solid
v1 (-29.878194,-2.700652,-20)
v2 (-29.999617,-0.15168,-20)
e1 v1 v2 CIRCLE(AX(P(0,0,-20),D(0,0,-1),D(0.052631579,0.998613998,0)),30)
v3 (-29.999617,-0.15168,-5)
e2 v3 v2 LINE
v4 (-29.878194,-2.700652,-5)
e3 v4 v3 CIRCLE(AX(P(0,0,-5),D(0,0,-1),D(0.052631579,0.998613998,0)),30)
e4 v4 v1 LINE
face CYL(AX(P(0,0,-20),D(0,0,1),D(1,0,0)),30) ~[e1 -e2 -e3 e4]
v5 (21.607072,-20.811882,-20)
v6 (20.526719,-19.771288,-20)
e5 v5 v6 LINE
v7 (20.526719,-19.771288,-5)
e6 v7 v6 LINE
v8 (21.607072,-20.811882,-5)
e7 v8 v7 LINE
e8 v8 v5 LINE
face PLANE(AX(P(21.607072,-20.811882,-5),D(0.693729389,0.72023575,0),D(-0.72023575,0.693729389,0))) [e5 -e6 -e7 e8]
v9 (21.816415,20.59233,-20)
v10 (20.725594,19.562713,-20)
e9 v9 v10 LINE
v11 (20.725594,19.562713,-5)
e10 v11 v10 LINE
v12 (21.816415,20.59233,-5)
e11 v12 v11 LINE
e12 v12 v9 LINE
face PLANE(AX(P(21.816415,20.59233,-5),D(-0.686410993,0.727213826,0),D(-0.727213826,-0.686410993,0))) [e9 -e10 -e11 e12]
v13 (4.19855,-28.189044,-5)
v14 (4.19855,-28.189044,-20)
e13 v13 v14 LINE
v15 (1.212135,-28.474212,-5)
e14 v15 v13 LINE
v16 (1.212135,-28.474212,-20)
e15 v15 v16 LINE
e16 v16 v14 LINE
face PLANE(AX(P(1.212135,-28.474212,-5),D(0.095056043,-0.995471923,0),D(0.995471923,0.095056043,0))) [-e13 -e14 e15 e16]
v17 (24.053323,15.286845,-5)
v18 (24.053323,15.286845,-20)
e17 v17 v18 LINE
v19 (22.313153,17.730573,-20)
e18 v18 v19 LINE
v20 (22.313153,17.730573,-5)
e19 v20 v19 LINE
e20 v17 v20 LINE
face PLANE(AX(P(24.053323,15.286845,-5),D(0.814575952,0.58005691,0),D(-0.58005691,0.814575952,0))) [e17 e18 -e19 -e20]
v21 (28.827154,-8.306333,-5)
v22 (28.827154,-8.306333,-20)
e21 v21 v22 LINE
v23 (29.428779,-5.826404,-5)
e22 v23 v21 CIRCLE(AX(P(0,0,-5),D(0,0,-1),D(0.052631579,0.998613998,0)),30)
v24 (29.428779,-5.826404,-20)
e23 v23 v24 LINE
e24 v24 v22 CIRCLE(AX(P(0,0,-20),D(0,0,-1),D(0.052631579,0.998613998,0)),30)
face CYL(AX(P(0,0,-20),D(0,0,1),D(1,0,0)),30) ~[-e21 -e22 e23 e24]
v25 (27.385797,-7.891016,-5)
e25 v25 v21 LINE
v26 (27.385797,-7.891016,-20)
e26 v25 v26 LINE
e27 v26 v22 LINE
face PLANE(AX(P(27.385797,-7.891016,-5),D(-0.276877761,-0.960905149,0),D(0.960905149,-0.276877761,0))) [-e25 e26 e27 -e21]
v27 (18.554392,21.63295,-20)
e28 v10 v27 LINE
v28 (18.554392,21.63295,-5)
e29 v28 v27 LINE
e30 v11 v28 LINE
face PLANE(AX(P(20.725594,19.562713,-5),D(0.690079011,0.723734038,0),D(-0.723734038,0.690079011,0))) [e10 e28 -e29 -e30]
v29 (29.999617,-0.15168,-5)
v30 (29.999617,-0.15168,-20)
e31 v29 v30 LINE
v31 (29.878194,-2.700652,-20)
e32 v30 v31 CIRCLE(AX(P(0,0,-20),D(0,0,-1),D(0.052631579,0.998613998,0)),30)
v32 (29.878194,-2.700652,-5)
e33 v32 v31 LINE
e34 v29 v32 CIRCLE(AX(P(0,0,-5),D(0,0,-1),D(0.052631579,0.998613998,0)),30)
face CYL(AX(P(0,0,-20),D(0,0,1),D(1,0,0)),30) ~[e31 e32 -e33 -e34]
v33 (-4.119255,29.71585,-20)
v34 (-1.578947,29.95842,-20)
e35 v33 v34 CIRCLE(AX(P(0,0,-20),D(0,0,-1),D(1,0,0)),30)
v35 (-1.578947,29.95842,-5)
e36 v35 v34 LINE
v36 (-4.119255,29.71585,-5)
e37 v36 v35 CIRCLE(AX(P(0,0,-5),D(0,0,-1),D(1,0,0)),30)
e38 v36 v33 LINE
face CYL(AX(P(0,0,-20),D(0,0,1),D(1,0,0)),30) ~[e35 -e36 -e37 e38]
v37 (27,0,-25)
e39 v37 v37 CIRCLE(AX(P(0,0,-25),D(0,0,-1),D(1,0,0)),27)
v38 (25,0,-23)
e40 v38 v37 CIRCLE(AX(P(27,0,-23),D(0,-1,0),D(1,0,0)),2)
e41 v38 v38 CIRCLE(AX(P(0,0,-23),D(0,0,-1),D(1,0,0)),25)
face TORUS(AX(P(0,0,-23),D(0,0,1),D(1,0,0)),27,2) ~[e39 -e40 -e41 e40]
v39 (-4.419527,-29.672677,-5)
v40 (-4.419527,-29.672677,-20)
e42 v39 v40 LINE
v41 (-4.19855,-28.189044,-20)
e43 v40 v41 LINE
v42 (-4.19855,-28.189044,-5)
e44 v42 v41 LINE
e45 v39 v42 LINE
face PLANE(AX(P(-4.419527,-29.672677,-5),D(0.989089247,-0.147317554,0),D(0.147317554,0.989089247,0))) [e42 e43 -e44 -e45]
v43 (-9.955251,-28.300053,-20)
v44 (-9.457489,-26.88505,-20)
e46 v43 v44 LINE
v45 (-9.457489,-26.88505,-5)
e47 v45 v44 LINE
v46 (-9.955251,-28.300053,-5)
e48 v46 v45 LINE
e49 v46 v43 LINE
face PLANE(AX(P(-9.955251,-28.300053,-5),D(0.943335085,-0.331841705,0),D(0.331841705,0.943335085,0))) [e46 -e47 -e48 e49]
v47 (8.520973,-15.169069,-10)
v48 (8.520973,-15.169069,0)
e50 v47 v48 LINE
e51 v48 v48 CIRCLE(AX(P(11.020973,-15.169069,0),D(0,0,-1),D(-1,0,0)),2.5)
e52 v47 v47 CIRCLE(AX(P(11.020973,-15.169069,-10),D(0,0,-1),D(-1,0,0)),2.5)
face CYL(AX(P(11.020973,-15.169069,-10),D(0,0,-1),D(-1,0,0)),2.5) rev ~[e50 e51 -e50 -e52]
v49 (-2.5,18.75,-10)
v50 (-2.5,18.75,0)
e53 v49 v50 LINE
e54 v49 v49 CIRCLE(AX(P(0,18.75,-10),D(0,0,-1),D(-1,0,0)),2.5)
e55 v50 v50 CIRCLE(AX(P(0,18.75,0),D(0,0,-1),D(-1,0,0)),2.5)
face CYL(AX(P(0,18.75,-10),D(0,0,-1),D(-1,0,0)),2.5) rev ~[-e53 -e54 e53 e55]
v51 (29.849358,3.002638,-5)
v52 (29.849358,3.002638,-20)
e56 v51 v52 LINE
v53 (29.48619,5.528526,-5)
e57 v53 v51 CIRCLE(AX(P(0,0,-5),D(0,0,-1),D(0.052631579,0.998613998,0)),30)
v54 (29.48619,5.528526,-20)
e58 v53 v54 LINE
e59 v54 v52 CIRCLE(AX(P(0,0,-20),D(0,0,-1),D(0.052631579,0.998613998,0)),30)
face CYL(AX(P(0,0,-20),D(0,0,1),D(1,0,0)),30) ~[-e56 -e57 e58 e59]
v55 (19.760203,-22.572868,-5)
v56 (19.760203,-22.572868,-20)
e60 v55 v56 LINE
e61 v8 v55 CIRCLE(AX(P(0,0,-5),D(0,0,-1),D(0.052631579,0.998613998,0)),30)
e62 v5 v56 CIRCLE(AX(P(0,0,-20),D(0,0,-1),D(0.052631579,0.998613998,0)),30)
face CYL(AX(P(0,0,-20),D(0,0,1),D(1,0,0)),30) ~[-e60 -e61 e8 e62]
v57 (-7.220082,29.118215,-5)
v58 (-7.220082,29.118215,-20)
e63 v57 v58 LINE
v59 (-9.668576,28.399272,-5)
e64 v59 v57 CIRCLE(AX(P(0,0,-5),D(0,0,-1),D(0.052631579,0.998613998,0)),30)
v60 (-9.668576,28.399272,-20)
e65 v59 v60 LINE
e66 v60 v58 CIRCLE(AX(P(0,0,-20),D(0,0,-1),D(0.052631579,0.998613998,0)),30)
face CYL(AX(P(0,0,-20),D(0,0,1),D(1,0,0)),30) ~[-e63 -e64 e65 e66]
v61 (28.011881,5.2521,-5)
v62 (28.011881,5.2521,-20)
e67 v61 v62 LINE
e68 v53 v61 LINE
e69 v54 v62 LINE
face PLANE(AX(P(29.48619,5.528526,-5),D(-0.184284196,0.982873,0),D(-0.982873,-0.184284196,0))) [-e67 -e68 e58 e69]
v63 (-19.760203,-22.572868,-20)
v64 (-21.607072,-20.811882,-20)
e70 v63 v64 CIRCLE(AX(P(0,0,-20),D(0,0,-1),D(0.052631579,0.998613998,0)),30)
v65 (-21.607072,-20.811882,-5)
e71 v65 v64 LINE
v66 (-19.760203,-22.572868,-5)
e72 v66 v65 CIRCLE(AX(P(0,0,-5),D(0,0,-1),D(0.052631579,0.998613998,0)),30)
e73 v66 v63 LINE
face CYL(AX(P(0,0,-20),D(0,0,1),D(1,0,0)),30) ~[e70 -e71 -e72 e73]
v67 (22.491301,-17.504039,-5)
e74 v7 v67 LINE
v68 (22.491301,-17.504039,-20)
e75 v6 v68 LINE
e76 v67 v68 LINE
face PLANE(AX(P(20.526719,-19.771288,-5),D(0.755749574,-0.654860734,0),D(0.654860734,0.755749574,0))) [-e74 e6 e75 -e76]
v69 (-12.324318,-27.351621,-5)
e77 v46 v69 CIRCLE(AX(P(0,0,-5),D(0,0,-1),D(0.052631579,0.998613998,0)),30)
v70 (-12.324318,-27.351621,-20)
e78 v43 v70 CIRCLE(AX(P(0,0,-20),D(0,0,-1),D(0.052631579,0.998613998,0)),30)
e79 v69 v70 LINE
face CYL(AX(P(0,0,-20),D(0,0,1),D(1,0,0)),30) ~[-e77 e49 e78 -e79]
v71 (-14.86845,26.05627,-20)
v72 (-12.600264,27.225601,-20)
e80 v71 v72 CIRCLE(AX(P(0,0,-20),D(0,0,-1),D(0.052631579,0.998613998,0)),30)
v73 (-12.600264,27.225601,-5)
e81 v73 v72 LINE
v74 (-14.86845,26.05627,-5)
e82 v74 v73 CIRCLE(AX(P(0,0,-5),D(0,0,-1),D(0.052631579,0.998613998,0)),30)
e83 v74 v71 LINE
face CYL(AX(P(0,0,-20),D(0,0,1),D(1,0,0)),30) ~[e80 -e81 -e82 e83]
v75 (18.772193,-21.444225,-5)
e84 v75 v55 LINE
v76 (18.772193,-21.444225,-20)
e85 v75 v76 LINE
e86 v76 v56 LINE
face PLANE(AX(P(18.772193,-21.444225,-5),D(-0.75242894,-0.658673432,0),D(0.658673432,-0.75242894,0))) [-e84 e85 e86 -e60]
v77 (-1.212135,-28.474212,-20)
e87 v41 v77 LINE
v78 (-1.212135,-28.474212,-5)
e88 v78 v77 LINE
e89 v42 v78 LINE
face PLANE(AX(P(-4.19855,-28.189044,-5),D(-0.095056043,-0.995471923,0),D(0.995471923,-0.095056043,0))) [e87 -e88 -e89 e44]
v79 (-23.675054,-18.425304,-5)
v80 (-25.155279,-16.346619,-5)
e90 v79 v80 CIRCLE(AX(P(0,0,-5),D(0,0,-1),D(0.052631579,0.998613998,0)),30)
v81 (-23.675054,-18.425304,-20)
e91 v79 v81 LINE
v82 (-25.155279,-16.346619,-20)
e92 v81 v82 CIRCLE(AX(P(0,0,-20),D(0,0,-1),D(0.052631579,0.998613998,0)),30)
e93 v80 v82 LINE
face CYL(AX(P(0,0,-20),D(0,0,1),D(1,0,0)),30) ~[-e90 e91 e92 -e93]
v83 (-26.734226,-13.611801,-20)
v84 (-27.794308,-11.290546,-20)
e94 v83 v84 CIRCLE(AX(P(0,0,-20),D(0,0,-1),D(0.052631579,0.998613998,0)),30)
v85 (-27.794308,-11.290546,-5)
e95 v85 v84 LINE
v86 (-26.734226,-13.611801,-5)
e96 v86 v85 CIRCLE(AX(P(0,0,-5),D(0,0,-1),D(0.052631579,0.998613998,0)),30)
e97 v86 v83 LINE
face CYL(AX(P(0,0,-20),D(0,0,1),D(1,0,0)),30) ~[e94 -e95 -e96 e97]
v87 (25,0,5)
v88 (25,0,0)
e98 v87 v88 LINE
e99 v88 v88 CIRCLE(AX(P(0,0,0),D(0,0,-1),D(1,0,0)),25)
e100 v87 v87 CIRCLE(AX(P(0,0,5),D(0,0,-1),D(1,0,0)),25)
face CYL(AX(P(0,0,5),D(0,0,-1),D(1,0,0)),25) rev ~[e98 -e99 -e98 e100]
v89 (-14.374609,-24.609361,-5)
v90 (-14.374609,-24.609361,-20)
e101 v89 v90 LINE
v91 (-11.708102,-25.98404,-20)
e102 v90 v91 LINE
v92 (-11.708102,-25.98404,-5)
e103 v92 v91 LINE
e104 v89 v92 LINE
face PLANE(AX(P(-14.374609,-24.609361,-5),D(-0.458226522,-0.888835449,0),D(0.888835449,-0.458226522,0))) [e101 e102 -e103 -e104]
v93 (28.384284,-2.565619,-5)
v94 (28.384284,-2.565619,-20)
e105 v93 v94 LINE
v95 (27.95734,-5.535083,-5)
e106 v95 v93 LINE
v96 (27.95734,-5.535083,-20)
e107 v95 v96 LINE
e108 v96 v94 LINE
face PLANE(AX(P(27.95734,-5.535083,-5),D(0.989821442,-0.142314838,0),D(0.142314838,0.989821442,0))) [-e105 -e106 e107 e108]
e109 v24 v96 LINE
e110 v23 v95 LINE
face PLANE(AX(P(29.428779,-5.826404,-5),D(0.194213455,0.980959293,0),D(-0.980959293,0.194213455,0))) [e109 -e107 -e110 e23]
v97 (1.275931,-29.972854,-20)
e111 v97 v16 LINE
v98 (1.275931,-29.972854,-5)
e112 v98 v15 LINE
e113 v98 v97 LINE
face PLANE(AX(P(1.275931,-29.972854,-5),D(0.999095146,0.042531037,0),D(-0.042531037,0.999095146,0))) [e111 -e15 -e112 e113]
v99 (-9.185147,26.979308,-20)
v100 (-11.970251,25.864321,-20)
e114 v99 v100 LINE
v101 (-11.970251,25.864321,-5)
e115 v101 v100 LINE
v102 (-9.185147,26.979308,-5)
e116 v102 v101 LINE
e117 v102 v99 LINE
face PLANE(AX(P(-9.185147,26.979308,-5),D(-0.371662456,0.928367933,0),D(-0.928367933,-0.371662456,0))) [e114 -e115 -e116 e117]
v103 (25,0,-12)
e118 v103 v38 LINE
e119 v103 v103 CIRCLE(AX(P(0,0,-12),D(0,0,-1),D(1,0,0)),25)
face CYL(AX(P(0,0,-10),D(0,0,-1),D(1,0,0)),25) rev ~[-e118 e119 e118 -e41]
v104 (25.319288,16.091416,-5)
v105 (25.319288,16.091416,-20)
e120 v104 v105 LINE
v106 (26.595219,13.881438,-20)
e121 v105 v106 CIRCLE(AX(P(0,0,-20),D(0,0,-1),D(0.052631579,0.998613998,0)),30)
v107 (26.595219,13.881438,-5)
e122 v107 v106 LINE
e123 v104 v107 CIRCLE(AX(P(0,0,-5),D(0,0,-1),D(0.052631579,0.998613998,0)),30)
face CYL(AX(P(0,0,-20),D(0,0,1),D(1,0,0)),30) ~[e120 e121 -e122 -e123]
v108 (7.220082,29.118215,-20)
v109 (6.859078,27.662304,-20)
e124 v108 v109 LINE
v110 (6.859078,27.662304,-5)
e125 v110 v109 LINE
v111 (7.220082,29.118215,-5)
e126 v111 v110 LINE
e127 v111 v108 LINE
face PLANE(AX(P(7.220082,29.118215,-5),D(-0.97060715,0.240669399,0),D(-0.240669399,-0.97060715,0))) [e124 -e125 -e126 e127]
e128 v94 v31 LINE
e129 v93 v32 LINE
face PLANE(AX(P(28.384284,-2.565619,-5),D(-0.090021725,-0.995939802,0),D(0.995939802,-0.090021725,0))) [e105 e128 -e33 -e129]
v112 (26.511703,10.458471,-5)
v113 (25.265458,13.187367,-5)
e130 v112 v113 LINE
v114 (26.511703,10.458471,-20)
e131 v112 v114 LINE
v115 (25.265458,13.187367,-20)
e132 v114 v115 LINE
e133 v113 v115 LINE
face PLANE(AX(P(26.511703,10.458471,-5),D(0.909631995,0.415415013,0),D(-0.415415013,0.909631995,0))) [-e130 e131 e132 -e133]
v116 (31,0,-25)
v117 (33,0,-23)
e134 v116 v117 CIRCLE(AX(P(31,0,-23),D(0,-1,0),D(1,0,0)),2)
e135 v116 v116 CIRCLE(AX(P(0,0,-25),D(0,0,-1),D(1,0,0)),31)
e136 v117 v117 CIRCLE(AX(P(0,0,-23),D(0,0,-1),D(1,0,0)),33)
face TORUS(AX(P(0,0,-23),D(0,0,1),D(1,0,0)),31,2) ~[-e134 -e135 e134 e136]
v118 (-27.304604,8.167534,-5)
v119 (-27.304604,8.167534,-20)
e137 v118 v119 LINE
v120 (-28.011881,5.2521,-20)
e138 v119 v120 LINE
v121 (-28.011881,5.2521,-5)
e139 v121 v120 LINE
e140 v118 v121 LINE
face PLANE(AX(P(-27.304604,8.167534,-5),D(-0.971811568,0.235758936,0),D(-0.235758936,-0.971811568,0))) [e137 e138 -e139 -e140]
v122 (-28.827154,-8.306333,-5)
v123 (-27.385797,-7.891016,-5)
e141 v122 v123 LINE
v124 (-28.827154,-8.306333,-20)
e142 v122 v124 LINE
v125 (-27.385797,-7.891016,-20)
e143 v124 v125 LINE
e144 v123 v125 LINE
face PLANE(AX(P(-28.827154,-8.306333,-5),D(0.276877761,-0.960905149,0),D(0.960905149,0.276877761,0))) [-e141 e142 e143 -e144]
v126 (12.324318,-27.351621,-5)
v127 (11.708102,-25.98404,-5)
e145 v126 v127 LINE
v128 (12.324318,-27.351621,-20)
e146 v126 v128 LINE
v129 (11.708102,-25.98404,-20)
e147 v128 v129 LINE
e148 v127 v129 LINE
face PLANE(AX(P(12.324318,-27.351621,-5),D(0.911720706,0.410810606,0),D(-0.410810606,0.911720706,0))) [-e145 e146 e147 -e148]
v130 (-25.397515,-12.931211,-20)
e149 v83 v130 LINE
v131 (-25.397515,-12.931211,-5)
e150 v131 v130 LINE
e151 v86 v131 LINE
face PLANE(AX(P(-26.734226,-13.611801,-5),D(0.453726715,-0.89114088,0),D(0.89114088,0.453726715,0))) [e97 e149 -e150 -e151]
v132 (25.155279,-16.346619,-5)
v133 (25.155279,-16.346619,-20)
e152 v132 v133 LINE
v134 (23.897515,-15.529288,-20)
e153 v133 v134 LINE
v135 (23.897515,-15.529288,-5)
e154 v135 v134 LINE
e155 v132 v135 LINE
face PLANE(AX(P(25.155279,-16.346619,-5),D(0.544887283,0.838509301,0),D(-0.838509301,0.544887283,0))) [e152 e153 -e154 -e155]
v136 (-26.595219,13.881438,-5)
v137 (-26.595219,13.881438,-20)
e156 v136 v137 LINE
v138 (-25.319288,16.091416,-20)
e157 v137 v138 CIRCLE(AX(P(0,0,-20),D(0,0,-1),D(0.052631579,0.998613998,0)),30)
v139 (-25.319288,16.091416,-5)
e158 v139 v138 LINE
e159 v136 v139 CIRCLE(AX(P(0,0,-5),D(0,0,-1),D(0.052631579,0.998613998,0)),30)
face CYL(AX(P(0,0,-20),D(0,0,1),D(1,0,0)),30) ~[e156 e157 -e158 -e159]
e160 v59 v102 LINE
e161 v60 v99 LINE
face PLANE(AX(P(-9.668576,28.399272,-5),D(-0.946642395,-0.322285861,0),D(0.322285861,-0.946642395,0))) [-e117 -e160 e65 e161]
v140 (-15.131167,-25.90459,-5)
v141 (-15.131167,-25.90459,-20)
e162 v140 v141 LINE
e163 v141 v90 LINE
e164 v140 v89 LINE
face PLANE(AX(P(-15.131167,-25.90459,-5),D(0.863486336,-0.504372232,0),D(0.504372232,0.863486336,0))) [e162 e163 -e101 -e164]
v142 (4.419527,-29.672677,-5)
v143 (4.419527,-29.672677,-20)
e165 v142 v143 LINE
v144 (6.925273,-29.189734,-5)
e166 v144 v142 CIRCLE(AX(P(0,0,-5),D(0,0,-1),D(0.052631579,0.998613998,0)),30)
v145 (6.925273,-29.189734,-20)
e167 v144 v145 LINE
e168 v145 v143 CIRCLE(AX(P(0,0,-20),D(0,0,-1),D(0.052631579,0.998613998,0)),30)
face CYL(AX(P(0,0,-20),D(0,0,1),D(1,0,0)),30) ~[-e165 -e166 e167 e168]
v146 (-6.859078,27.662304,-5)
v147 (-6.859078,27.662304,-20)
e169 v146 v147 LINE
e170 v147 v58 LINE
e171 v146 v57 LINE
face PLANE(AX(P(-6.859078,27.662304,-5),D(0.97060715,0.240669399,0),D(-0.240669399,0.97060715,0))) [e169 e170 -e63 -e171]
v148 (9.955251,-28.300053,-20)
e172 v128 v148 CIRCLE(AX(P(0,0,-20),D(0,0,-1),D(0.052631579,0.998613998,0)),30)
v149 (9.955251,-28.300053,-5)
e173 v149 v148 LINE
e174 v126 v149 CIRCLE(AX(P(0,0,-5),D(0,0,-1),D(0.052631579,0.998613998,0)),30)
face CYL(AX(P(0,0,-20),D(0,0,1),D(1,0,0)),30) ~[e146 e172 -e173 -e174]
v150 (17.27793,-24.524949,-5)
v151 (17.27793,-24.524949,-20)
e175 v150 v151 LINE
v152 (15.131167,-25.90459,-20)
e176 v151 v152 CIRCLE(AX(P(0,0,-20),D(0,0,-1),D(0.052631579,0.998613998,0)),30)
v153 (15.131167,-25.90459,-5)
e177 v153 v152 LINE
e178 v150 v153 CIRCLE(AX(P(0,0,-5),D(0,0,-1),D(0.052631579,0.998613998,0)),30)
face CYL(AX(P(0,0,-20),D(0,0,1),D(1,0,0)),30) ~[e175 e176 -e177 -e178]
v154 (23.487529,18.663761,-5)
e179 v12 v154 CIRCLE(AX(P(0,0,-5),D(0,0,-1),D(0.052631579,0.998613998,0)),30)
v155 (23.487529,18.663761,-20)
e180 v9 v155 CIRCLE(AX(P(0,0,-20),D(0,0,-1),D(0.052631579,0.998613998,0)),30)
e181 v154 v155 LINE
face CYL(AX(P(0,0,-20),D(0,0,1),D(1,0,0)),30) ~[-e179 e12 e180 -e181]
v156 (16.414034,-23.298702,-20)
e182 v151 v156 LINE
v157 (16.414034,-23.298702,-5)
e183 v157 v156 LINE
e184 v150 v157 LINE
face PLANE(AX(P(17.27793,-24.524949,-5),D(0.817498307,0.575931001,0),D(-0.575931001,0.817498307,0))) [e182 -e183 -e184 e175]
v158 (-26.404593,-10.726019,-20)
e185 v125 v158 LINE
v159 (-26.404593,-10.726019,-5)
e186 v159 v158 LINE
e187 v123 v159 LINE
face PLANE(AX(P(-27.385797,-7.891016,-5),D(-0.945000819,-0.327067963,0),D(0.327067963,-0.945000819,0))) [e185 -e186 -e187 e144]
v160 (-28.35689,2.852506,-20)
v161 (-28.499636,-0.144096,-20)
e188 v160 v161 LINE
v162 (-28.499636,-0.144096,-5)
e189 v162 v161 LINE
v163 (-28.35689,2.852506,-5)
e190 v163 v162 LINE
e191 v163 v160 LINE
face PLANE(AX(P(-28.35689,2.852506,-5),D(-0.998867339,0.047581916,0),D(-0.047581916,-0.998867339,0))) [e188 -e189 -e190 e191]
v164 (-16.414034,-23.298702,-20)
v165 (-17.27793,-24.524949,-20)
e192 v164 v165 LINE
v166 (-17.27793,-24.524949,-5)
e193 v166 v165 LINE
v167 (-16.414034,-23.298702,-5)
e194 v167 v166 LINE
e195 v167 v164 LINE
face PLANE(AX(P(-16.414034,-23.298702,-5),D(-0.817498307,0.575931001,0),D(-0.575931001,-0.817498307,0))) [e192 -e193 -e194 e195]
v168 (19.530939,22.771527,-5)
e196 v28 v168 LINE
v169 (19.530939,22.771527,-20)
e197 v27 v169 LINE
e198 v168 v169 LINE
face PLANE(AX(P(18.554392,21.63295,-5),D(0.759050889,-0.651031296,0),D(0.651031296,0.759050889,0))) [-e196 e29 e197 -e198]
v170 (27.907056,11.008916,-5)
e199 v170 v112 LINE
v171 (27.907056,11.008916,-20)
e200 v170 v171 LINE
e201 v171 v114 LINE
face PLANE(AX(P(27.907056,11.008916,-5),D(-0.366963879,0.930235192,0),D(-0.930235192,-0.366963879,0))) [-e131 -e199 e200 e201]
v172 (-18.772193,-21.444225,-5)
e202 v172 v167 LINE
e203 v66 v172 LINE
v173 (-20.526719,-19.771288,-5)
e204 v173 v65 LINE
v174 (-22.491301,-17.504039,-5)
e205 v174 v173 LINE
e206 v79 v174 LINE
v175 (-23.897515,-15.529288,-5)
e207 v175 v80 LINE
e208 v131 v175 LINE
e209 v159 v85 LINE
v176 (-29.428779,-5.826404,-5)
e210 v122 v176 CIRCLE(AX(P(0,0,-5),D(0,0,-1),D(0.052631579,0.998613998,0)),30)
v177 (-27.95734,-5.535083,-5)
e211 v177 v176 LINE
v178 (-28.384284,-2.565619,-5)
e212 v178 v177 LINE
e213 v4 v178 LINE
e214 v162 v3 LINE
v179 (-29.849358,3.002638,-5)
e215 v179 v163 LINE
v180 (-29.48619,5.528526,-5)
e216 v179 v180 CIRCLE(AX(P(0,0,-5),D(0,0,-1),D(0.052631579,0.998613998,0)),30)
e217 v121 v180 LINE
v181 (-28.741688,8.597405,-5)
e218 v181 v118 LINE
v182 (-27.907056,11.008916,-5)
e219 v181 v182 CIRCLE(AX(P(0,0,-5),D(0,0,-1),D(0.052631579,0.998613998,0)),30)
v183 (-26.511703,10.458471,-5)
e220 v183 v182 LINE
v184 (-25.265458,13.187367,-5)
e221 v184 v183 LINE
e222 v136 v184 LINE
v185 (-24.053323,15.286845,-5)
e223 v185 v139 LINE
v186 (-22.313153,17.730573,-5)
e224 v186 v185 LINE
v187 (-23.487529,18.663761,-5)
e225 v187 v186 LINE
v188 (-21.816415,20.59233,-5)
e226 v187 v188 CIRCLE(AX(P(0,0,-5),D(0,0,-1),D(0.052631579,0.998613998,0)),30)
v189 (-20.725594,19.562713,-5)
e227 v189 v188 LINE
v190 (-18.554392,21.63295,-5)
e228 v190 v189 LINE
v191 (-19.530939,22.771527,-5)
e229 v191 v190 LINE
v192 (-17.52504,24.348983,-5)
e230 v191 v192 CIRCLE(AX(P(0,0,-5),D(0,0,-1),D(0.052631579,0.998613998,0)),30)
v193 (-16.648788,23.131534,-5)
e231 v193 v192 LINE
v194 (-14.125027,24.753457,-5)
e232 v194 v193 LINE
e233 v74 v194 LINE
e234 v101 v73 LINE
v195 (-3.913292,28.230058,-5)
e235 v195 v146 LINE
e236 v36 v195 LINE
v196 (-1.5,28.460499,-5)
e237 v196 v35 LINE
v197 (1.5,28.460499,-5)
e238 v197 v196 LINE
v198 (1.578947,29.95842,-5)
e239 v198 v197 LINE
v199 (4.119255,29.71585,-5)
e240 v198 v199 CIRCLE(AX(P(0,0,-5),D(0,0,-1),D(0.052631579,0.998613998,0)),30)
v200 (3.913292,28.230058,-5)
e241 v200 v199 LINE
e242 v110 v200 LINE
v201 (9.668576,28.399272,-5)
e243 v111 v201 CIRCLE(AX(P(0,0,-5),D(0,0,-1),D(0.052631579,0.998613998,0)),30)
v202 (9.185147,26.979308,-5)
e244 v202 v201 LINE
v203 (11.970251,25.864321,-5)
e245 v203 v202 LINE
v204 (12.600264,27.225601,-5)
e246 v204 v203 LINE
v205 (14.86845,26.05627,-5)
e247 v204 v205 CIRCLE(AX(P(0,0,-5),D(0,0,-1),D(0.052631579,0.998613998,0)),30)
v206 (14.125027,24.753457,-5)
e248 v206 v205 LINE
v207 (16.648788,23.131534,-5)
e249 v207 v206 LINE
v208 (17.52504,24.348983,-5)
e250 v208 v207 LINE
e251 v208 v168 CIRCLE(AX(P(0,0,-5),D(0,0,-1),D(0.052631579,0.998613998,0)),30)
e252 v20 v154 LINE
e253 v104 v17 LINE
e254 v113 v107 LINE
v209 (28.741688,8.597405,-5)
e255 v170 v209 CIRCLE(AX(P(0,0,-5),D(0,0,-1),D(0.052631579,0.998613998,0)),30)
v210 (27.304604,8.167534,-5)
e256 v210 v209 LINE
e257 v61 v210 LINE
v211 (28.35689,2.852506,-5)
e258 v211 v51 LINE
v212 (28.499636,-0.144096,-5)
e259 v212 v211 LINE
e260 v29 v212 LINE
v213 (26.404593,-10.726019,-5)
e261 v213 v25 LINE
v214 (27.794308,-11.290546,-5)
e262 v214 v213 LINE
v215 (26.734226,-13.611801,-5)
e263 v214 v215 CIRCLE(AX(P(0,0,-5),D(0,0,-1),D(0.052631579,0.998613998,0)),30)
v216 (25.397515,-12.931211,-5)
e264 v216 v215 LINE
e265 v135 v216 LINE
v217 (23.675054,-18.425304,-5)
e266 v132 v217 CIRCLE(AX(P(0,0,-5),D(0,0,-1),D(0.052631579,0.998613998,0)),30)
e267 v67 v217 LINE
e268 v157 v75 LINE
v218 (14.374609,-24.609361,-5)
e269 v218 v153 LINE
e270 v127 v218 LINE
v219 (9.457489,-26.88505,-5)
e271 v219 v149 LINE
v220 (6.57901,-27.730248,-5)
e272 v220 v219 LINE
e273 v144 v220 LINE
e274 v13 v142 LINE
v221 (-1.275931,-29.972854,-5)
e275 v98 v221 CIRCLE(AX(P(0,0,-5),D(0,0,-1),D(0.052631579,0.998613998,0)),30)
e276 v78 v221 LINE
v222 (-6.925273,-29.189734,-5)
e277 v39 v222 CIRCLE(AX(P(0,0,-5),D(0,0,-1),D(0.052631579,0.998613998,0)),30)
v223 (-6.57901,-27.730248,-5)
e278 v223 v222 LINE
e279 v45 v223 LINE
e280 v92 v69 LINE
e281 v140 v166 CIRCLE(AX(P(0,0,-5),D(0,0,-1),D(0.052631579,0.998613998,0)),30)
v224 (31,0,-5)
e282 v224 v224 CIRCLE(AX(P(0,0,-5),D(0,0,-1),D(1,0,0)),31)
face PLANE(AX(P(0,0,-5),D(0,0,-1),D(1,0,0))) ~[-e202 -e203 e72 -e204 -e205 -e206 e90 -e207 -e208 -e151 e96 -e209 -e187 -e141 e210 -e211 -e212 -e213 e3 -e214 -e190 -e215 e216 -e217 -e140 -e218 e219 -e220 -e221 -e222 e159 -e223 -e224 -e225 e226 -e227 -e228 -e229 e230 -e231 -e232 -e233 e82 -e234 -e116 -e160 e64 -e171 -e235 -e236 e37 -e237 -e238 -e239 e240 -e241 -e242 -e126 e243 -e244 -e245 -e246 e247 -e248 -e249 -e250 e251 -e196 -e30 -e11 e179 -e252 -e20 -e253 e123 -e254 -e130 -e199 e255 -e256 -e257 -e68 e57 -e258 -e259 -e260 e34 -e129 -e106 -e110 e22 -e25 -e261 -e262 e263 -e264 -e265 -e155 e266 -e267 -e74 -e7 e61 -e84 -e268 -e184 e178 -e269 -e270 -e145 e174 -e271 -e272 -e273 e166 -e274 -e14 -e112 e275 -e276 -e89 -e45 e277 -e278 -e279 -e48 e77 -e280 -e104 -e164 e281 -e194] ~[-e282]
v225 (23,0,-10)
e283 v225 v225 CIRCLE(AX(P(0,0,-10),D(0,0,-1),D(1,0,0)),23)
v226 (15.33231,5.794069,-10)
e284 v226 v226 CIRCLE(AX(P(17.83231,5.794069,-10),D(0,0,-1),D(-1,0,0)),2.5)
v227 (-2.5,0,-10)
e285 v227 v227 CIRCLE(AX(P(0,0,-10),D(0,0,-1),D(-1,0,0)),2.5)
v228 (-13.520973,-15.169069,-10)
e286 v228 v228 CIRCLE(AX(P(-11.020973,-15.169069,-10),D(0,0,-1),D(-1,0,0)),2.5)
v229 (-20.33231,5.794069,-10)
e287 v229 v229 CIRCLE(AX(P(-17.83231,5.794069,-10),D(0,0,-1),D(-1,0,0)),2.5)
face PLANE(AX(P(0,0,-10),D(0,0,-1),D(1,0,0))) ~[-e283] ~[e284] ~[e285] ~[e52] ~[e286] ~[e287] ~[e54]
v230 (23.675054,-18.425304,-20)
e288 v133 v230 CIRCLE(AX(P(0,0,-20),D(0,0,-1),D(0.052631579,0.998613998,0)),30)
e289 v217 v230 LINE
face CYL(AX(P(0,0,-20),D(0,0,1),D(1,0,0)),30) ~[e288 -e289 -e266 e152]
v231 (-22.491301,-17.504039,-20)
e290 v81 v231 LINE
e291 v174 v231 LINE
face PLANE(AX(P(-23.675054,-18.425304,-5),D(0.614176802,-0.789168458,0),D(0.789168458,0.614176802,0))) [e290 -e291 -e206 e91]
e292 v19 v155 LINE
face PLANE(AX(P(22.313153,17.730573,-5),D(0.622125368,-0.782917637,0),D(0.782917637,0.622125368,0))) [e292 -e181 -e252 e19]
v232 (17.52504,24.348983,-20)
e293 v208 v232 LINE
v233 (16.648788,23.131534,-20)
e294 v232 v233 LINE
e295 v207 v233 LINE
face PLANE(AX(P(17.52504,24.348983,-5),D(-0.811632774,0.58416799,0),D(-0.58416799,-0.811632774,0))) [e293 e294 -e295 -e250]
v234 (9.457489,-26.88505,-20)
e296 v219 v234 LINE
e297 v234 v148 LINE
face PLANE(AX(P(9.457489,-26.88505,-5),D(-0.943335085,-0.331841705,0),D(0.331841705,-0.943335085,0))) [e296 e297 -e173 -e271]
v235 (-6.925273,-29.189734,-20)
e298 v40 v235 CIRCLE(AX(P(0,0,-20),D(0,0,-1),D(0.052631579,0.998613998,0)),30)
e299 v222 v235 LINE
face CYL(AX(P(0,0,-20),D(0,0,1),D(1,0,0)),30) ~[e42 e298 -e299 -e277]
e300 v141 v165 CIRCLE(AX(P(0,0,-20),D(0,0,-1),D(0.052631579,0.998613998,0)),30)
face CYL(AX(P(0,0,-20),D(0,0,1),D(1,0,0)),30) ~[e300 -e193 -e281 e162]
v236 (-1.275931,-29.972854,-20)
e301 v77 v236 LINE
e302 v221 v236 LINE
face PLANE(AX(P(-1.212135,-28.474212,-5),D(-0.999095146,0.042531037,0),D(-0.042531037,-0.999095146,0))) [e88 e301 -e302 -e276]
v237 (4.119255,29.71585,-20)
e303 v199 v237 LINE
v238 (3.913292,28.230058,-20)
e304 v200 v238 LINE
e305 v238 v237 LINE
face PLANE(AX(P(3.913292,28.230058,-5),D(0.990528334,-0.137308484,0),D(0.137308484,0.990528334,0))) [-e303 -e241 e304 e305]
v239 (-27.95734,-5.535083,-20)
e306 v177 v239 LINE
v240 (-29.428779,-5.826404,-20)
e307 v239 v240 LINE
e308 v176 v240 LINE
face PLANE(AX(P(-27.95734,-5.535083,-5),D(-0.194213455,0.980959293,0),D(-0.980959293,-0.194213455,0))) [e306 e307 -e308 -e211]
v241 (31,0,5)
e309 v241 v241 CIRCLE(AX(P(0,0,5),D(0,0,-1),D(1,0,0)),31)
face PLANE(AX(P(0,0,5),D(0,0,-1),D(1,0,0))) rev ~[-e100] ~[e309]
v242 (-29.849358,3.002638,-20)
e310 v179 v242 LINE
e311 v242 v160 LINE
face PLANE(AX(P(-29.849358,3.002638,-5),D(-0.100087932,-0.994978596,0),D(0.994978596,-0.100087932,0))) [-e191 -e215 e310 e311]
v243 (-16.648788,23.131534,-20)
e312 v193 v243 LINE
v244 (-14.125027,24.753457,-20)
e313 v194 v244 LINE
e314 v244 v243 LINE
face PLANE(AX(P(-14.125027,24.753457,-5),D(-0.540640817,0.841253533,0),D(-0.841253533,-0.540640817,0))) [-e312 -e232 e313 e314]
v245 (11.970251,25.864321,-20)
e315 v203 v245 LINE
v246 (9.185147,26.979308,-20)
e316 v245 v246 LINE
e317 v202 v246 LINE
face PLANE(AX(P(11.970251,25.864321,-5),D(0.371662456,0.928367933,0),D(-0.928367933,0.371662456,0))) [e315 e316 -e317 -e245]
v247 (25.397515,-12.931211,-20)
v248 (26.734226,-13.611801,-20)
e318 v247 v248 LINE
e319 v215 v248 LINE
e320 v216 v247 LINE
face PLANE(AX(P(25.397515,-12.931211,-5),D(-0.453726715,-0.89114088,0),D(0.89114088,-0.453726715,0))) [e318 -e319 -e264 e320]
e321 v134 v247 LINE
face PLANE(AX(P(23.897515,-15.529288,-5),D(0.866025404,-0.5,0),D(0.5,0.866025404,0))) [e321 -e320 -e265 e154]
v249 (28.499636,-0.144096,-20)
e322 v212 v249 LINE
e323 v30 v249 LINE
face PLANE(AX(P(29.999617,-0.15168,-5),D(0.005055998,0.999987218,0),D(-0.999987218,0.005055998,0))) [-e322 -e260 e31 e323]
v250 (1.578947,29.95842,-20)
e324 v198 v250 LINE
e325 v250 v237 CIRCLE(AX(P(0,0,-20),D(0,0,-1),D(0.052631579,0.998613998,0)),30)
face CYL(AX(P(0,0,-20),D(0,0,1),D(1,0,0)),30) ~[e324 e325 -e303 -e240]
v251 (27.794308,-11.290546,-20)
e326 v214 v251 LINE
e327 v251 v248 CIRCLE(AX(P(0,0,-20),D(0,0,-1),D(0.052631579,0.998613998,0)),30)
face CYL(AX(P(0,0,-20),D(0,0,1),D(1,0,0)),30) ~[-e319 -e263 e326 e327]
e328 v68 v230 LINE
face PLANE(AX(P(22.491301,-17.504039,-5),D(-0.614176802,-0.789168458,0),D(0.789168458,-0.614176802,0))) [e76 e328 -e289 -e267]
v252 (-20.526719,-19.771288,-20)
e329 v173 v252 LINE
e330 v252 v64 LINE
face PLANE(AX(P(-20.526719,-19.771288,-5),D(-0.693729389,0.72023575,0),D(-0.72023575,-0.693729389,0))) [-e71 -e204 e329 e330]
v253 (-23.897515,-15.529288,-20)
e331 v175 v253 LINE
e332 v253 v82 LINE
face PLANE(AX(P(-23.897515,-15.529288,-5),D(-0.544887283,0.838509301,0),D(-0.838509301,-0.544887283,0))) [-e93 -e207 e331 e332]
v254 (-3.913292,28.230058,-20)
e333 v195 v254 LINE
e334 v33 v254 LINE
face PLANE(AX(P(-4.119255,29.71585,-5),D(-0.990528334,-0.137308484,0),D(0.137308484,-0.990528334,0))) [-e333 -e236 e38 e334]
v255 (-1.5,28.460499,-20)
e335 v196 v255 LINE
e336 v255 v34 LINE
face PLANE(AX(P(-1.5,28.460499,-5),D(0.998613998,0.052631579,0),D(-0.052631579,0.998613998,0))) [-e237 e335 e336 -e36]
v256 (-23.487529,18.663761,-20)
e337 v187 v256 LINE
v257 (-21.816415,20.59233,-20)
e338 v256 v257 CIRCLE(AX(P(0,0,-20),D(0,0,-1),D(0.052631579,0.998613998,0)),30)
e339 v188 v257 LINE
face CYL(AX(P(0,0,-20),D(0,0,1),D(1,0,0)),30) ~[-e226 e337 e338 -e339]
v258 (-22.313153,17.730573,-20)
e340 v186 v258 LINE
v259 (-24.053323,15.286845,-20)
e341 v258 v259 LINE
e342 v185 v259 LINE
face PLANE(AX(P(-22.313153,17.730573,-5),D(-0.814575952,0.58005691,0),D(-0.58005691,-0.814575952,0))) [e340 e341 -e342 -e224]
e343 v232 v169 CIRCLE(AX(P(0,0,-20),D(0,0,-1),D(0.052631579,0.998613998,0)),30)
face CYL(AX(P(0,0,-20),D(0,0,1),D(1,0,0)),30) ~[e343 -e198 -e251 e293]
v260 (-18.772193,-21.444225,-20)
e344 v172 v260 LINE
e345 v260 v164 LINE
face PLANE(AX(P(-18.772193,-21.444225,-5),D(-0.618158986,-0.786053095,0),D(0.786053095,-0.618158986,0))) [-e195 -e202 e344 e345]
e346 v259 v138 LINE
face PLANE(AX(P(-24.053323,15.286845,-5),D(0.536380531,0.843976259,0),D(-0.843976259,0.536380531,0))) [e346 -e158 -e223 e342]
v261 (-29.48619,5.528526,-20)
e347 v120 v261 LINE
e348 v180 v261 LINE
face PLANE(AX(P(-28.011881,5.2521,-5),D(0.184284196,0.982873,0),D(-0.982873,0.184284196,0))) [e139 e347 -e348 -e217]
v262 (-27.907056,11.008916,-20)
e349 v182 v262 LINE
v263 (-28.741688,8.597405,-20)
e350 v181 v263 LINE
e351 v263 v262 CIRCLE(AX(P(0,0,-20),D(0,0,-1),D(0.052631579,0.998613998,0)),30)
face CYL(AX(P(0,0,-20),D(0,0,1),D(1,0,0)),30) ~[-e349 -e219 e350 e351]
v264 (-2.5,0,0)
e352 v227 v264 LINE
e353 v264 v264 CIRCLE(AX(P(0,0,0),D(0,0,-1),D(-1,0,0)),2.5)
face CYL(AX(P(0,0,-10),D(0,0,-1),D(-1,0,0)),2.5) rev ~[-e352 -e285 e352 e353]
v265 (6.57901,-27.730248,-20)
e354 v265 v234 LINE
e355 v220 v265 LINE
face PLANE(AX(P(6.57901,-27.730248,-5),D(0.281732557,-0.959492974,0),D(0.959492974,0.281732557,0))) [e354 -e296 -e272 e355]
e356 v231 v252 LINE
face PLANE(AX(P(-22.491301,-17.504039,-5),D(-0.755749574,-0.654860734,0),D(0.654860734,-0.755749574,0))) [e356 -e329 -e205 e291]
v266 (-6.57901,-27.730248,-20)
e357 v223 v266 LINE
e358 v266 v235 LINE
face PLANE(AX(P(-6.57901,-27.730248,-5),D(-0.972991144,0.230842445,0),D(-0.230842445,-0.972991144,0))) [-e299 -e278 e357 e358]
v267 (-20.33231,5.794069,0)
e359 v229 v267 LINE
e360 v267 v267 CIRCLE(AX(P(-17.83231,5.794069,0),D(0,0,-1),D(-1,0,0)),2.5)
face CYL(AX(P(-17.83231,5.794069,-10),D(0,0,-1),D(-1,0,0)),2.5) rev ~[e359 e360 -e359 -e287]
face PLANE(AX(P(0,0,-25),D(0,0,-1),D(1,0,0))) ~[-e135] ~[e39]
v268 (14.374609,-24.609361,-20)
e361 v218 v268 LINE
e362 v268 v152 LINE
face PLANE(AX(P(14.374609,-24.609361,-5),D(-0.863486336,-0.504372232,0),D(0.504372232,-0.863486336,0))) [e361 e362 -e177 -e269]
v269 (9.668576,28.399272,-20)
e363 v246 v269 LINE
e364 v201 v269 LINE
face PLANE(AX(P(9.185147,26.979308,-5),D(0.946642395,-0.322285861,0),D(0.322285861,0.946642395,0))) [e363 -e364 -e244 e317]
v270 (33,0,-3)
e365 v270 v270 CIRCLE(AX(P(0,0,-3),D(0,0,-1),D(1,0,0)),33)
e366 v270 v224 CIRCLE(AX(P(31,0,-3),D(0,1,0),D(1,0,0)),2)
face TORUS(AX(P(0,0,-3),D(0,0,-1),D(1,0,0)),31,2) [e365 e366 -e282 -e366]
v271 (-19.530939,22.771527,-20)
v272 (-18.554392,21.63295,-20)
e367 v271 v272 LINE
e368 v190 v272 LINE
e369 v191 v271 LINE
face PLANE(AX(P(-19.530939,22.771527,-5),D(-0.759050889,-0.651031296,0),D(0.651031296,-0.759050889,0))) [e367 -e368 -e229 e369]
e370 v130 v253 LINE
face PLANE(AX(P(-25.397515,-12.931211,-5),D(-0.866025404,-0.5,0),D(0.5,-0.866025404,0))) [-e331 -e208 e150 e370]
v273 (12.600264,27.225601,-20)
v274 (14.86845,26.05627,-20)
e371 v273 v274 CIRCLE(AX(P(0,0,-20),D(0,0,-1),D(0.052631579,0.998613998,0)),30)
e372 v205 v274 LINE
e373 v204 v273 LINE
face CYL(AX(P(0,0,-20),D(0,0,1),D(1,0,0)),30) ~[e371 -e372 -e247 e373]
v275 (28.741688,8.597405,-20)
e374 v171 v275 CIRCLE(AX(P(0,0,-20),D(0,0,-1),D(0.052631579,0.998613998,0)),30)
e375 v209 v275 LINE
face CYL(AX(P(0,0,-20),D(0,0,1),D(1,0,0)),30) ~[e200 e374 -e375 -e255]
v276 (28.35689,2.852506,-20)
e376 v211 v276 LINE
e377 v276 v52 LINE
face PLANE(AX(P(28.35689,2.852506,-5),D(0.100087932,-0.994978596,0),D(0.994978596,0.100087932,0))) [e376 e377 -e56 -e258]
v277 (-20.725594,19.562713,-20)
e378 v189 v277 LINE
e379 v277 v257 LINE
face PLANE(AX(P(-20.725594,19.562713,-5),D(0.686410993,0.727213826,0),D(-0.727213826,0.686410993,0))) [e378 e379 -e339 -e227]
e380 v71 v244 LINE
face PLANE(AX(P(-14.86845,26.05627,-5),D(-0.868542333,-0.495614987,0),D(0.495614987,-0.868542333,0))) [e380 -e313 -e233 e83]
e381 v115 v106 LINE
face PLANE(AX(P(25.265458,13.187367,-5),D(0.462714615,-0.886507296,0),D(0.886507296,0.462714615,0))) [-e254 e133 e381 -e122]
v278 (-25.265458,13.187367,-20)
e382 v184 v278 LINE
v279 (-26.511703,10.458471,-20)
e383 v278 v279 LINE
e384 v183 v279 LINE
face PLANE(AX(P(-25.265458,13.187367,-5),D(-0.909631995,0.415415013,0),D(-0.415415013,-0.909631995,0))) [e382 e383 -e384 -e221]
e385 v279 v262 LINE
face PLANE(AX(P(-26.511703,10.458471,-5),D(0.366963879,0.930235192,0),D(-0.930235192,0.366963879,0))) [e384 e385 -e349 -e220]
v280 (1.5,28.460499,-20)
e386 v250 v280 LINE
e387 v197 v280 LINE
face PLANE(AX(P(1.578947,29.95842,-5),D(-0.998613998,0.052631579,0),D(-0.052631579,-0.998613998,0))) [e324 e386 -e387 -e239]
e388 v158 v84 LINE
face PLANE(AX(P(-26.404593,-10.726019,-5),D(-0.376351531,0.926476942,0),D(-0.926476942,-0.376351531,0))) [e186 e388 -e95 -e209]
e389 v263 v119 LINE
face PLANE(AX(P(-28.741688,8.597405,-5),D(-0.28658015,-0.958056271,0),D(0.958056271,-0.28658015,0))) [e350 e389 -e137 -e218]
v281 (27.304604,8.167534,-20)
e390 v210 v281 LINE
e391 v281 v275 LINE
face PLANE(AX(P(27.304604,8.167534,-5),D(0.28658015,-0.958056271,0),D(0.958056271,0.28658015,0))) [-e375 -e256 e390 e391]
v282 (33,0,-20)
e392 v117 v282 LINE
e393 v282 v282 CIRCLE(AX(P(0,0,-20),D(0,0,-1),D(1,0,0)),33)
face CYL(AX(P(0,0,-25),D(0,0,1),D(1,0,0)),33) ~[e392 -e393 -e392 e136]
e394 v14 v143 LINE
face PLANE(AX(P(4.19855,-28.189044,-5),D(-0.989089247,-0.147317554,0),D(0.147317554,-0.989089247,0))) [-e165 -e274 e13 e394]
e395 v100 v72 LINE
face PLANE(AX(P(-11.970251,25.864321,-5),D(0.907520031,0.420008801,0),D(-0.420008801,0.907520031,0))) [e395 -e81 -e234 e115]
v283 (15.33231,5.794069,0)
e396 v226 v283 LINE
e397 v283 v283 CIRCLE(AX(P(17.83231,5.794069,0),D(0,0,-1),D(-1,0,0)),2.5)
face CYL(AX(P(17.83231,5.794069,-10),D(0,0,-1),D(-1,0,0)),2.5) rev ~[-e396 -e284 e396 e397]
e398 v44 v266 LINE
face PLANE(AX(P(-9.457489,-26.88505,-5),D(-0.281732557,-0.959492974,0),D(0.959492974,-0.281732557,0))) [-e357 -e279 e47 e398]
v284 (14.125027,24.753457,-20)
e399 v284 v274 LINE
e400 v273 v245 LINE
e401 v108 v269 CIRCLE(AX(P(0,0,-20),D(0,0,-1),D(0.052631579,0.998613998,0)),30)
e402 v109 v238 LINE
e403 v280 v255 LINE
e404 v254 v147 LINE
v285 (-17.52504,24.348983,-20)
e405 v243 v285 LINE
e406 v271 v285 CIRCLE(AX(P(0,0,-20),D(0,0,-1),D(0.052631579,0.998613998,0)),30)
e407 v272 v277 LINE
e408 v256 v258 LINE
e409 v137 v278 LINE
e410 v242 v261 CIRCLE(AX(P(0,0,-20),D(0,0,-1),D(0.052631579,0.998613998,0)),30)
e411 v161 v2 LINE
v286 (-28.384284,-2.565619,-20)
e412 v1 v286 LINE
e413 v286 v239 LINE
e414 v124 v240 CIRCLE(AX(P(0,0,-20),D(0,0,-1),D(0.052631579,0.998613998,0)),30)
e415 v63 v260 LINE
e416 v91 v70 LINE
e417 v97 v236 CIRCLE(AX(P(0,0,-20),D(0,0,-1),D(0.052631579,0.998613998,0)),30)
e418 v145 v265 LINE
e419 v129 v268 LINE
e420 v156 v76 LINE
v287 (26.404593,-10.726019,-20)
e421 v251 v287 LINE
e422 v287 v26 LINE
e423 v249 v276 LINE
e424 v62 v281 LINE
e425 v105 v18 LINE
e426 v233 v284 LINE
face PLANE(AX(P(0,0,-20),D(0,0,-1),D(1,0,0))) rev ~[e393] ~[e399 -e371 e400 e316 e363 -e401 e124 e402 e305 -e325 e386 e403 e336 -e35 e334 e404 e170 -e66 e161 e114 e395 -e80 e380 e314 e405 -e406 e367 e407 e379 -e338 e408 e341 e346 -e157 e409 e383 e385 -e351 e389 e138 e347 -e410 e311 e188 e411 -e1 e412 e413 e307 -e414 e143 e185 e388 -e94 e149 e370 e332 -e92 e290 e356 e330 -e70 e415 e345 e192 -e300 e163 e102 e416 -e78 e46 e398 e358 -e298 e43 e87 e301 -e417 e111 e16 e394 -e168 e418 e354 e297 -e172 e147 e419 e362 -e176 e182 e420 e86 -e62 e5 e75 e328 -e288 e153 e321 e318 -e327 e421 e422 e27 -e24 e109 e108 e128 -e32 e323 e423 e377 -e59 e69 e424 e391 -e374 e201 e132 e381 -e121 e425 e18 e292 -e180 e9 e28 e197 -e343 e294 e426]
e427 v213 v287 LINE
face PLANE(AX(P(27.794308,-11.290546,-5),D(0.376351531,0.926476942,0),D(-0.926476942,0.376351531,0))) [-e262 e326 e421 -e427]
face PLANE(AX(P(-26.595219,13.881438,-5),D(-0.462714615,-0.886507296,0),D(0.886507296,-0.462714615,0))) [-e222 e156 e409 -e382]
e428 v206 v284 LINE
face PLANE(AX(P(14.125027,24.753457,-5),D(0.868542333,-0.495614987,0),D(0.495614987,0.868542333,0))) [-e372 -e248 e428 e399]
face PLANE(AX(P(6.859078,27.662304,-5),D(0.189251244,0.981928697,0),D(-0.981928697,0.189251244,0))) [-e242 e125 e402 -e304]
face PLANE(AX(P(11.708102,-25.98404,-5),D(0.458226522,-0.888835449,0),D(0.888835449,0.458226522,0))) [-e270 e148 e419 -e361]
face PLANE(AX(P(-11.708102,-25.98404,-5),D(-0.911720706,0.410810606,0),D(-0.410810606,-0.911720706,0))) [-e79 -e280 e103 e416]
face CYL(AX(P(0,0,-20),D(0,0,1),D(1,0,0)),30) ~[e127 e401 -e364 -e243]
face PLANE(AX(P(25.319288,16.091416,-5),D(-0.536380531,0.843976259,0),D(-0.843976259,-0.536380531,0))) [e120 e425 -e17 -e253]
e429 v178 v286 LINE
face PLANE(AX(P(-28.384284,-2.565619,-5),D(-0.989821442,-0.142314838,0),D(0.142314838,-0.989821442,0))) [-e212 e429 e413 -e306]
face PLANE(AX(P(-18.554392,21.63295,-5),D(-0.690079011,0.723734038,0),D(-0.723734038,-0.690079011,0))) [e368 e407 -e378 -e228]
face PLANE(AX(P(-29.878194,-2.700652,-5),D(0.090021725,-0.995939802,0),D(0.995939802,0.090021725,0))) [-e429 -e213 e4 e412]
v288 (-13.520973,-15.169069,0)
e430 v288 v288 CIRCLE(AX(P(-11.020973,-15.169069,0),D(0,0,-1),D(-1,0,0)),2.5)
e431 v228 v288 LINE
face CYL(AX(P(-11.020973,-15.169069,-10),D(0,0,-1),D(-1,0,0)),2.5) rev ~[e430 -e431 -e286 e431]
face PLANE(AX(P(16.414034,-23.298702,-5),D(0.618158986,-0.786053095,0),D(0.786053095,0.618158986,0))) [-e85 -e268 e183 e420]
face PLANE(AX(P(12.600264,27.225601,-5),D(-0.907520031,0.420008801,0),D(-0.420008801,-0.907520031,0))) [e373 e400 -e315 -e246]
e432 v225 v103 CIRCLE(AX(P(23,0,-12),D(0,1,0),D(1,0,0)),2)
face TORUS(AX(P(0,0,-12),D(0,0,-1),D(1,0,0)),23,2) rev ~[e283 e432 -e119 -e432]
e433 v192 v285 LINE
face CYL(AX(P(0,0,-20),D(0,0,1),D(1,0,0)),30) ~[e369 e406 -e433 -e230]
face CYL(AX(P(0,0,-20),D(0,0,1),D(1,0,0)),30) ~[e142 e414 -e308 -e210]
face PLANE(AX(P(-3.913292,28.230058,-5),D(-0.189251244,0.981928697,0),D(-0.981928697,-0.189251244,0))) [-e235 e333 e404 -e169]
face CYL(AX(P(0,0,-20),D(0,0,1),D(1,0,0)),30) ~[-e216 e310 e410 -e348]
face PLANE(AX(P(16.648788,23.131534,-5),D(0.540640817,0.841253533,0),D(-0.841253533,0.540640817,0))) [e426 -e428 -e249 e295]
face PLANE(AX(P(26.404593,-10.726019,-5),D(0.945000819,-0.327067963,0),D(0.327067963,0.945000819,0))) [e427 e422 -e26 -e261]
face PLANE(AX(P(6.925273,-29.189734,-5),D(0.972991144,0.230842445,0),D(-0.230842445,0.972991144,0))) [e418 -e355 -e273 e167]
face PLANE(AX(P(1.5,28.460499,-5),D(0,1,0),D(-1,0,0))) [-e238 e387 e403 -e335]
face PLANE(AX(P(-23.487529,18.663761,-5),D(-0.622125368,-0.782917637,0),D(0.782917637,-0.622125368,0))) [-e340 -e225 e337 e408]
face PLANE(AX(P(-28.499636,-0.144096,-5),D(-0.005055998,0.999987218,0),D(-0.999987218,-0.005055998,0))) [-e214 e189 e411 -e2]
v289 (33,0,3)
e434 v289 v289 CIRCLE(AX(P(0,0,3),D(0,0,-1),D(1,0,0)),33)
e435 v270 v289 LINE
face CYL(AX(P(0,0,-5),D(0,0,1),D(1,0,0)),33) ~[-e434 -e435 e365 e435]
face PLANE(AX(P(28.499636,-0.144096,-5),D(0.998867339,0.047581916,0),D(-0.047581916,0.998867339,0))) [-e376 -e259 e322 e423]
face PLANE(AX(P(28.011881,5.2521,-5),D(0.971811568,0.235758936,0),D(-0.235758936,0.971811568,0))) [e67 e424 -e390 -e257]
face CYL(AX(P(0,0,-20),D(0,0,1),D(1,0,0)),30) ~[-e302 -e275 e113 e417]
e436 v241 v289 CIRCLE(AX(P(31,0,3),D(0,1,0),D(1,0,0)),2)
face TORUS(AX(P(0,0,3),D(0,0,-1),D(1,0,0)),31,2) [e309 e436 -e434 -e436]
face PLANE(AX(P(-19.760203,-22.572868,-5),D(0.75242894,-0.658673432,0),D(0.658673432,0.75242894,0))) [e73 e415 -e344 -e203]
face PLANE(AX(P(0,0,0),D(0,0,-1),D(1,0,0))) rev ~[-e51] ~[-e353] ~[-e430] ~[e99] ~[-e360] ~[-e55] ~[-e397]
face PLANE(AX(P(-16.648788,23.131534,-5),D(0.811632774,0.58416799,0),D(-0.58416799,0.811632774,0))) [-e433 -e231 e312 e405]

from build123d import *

# Parameters (mm, degrees)
SKETCH3_R          = 2.5
CUT_EXTRUDE1_DEPTH = 50.020403915
CUT_EXTRUDE2_DEPTH = 15
CIRPATTERN1_COUNT  = 33
FILLET1_R          = 2


with BuildPart() as part:
    # Sketch1 → Revolve1 (revolve)
    with BuildSketch(Plane(origin=(0, 0, 0), x_dir=(1, 0, 0), z_dir=(0, 1, 0))):
        Polygon((0, 0), (0, 10), (25, 10), (25, 25), (33, 25), (33, 20), (30, 20), (30, 5), (33, 5), (33, -5), (25, -5), (25, 0), align=None)
    revolve(axis=Axis((0, 0, 0), (0, 0, -1)))

    # Sketch3 → Cut-Extrude1 (cut, through all)
    with BuildSketch(Plane(origin=(0, 0, -10), x_dir=(-1, 0, 0), z_dir=(0, 0, -1))):
        Circle(SKETCH3_R)
        with Locations((0, 18.75)):
            Circle(SKETCH3_R)
        with Locations((17.832309681, 5.794068645)):
            Circle(SKETCH3_R)
        with Locations((11.02097348, -15.169068645)):
            Circle(SKETCH3_R)
        with Locations((-11.02097348, -15.169068645)):
            Circle(SKETCH3_R)
        with Locations((-17.832309681, 5.794068645)):
            Circle(SKETCH3_R)
    extrude(amount=-CUT_EXTRUDE1_DEPTH, mode=Mode.SUBTRACT)

    # Sketch5 → Cut-Extrude2 (cut)
    with BuildSketch(Plane(origin=(0, 0, -5), x_dir=(-1, 0, 0), z_dir=(0, 0, -1))):
        with BuildLine():
            Line((-1.5, 28.460498942), (1.5, 28.460498942))
            Line((1.5, 28.460498942), (1.578947368, 29.958419938))
            ThreePointArc((1.578947368, 29.958419938), (0, 30), (-1.578947368, 29.958419938))
            Line((-1.578947368, 29.958419938), (-1.5, 28.460498942))
        make_face()
    cut_extrude2 = extrude(amount=CUT_EXTRUDE2_DEPTH, mode=Mode.SUBTRACT)

    # CirPattern1: Cut-Extrude2 ×33 about axis
    cirpattern1_axis = Axis((0, 0, 0), (0, 0, 1))
    for i in range(1, CIRPATTERN1_COUNT):
        add(cut_extrude2.rotate(cirpattern1_axis, i * 360 / CIRPATTERN1_COUNT), mode=Mode.SUBTRACT)

    # Fillet1
    fillet1_edges = [part.edges().sort_by_distance(p)[0] for p in [
        (-33, 0, 5),
        (-33, 0, -5),
        (-33, 0, -25),
        (-25, 0, -25),
        (-25, 0, -10),
    ]]
    fillet(fillet1_edges, radius=FILLET1_R)


solid = part.part
